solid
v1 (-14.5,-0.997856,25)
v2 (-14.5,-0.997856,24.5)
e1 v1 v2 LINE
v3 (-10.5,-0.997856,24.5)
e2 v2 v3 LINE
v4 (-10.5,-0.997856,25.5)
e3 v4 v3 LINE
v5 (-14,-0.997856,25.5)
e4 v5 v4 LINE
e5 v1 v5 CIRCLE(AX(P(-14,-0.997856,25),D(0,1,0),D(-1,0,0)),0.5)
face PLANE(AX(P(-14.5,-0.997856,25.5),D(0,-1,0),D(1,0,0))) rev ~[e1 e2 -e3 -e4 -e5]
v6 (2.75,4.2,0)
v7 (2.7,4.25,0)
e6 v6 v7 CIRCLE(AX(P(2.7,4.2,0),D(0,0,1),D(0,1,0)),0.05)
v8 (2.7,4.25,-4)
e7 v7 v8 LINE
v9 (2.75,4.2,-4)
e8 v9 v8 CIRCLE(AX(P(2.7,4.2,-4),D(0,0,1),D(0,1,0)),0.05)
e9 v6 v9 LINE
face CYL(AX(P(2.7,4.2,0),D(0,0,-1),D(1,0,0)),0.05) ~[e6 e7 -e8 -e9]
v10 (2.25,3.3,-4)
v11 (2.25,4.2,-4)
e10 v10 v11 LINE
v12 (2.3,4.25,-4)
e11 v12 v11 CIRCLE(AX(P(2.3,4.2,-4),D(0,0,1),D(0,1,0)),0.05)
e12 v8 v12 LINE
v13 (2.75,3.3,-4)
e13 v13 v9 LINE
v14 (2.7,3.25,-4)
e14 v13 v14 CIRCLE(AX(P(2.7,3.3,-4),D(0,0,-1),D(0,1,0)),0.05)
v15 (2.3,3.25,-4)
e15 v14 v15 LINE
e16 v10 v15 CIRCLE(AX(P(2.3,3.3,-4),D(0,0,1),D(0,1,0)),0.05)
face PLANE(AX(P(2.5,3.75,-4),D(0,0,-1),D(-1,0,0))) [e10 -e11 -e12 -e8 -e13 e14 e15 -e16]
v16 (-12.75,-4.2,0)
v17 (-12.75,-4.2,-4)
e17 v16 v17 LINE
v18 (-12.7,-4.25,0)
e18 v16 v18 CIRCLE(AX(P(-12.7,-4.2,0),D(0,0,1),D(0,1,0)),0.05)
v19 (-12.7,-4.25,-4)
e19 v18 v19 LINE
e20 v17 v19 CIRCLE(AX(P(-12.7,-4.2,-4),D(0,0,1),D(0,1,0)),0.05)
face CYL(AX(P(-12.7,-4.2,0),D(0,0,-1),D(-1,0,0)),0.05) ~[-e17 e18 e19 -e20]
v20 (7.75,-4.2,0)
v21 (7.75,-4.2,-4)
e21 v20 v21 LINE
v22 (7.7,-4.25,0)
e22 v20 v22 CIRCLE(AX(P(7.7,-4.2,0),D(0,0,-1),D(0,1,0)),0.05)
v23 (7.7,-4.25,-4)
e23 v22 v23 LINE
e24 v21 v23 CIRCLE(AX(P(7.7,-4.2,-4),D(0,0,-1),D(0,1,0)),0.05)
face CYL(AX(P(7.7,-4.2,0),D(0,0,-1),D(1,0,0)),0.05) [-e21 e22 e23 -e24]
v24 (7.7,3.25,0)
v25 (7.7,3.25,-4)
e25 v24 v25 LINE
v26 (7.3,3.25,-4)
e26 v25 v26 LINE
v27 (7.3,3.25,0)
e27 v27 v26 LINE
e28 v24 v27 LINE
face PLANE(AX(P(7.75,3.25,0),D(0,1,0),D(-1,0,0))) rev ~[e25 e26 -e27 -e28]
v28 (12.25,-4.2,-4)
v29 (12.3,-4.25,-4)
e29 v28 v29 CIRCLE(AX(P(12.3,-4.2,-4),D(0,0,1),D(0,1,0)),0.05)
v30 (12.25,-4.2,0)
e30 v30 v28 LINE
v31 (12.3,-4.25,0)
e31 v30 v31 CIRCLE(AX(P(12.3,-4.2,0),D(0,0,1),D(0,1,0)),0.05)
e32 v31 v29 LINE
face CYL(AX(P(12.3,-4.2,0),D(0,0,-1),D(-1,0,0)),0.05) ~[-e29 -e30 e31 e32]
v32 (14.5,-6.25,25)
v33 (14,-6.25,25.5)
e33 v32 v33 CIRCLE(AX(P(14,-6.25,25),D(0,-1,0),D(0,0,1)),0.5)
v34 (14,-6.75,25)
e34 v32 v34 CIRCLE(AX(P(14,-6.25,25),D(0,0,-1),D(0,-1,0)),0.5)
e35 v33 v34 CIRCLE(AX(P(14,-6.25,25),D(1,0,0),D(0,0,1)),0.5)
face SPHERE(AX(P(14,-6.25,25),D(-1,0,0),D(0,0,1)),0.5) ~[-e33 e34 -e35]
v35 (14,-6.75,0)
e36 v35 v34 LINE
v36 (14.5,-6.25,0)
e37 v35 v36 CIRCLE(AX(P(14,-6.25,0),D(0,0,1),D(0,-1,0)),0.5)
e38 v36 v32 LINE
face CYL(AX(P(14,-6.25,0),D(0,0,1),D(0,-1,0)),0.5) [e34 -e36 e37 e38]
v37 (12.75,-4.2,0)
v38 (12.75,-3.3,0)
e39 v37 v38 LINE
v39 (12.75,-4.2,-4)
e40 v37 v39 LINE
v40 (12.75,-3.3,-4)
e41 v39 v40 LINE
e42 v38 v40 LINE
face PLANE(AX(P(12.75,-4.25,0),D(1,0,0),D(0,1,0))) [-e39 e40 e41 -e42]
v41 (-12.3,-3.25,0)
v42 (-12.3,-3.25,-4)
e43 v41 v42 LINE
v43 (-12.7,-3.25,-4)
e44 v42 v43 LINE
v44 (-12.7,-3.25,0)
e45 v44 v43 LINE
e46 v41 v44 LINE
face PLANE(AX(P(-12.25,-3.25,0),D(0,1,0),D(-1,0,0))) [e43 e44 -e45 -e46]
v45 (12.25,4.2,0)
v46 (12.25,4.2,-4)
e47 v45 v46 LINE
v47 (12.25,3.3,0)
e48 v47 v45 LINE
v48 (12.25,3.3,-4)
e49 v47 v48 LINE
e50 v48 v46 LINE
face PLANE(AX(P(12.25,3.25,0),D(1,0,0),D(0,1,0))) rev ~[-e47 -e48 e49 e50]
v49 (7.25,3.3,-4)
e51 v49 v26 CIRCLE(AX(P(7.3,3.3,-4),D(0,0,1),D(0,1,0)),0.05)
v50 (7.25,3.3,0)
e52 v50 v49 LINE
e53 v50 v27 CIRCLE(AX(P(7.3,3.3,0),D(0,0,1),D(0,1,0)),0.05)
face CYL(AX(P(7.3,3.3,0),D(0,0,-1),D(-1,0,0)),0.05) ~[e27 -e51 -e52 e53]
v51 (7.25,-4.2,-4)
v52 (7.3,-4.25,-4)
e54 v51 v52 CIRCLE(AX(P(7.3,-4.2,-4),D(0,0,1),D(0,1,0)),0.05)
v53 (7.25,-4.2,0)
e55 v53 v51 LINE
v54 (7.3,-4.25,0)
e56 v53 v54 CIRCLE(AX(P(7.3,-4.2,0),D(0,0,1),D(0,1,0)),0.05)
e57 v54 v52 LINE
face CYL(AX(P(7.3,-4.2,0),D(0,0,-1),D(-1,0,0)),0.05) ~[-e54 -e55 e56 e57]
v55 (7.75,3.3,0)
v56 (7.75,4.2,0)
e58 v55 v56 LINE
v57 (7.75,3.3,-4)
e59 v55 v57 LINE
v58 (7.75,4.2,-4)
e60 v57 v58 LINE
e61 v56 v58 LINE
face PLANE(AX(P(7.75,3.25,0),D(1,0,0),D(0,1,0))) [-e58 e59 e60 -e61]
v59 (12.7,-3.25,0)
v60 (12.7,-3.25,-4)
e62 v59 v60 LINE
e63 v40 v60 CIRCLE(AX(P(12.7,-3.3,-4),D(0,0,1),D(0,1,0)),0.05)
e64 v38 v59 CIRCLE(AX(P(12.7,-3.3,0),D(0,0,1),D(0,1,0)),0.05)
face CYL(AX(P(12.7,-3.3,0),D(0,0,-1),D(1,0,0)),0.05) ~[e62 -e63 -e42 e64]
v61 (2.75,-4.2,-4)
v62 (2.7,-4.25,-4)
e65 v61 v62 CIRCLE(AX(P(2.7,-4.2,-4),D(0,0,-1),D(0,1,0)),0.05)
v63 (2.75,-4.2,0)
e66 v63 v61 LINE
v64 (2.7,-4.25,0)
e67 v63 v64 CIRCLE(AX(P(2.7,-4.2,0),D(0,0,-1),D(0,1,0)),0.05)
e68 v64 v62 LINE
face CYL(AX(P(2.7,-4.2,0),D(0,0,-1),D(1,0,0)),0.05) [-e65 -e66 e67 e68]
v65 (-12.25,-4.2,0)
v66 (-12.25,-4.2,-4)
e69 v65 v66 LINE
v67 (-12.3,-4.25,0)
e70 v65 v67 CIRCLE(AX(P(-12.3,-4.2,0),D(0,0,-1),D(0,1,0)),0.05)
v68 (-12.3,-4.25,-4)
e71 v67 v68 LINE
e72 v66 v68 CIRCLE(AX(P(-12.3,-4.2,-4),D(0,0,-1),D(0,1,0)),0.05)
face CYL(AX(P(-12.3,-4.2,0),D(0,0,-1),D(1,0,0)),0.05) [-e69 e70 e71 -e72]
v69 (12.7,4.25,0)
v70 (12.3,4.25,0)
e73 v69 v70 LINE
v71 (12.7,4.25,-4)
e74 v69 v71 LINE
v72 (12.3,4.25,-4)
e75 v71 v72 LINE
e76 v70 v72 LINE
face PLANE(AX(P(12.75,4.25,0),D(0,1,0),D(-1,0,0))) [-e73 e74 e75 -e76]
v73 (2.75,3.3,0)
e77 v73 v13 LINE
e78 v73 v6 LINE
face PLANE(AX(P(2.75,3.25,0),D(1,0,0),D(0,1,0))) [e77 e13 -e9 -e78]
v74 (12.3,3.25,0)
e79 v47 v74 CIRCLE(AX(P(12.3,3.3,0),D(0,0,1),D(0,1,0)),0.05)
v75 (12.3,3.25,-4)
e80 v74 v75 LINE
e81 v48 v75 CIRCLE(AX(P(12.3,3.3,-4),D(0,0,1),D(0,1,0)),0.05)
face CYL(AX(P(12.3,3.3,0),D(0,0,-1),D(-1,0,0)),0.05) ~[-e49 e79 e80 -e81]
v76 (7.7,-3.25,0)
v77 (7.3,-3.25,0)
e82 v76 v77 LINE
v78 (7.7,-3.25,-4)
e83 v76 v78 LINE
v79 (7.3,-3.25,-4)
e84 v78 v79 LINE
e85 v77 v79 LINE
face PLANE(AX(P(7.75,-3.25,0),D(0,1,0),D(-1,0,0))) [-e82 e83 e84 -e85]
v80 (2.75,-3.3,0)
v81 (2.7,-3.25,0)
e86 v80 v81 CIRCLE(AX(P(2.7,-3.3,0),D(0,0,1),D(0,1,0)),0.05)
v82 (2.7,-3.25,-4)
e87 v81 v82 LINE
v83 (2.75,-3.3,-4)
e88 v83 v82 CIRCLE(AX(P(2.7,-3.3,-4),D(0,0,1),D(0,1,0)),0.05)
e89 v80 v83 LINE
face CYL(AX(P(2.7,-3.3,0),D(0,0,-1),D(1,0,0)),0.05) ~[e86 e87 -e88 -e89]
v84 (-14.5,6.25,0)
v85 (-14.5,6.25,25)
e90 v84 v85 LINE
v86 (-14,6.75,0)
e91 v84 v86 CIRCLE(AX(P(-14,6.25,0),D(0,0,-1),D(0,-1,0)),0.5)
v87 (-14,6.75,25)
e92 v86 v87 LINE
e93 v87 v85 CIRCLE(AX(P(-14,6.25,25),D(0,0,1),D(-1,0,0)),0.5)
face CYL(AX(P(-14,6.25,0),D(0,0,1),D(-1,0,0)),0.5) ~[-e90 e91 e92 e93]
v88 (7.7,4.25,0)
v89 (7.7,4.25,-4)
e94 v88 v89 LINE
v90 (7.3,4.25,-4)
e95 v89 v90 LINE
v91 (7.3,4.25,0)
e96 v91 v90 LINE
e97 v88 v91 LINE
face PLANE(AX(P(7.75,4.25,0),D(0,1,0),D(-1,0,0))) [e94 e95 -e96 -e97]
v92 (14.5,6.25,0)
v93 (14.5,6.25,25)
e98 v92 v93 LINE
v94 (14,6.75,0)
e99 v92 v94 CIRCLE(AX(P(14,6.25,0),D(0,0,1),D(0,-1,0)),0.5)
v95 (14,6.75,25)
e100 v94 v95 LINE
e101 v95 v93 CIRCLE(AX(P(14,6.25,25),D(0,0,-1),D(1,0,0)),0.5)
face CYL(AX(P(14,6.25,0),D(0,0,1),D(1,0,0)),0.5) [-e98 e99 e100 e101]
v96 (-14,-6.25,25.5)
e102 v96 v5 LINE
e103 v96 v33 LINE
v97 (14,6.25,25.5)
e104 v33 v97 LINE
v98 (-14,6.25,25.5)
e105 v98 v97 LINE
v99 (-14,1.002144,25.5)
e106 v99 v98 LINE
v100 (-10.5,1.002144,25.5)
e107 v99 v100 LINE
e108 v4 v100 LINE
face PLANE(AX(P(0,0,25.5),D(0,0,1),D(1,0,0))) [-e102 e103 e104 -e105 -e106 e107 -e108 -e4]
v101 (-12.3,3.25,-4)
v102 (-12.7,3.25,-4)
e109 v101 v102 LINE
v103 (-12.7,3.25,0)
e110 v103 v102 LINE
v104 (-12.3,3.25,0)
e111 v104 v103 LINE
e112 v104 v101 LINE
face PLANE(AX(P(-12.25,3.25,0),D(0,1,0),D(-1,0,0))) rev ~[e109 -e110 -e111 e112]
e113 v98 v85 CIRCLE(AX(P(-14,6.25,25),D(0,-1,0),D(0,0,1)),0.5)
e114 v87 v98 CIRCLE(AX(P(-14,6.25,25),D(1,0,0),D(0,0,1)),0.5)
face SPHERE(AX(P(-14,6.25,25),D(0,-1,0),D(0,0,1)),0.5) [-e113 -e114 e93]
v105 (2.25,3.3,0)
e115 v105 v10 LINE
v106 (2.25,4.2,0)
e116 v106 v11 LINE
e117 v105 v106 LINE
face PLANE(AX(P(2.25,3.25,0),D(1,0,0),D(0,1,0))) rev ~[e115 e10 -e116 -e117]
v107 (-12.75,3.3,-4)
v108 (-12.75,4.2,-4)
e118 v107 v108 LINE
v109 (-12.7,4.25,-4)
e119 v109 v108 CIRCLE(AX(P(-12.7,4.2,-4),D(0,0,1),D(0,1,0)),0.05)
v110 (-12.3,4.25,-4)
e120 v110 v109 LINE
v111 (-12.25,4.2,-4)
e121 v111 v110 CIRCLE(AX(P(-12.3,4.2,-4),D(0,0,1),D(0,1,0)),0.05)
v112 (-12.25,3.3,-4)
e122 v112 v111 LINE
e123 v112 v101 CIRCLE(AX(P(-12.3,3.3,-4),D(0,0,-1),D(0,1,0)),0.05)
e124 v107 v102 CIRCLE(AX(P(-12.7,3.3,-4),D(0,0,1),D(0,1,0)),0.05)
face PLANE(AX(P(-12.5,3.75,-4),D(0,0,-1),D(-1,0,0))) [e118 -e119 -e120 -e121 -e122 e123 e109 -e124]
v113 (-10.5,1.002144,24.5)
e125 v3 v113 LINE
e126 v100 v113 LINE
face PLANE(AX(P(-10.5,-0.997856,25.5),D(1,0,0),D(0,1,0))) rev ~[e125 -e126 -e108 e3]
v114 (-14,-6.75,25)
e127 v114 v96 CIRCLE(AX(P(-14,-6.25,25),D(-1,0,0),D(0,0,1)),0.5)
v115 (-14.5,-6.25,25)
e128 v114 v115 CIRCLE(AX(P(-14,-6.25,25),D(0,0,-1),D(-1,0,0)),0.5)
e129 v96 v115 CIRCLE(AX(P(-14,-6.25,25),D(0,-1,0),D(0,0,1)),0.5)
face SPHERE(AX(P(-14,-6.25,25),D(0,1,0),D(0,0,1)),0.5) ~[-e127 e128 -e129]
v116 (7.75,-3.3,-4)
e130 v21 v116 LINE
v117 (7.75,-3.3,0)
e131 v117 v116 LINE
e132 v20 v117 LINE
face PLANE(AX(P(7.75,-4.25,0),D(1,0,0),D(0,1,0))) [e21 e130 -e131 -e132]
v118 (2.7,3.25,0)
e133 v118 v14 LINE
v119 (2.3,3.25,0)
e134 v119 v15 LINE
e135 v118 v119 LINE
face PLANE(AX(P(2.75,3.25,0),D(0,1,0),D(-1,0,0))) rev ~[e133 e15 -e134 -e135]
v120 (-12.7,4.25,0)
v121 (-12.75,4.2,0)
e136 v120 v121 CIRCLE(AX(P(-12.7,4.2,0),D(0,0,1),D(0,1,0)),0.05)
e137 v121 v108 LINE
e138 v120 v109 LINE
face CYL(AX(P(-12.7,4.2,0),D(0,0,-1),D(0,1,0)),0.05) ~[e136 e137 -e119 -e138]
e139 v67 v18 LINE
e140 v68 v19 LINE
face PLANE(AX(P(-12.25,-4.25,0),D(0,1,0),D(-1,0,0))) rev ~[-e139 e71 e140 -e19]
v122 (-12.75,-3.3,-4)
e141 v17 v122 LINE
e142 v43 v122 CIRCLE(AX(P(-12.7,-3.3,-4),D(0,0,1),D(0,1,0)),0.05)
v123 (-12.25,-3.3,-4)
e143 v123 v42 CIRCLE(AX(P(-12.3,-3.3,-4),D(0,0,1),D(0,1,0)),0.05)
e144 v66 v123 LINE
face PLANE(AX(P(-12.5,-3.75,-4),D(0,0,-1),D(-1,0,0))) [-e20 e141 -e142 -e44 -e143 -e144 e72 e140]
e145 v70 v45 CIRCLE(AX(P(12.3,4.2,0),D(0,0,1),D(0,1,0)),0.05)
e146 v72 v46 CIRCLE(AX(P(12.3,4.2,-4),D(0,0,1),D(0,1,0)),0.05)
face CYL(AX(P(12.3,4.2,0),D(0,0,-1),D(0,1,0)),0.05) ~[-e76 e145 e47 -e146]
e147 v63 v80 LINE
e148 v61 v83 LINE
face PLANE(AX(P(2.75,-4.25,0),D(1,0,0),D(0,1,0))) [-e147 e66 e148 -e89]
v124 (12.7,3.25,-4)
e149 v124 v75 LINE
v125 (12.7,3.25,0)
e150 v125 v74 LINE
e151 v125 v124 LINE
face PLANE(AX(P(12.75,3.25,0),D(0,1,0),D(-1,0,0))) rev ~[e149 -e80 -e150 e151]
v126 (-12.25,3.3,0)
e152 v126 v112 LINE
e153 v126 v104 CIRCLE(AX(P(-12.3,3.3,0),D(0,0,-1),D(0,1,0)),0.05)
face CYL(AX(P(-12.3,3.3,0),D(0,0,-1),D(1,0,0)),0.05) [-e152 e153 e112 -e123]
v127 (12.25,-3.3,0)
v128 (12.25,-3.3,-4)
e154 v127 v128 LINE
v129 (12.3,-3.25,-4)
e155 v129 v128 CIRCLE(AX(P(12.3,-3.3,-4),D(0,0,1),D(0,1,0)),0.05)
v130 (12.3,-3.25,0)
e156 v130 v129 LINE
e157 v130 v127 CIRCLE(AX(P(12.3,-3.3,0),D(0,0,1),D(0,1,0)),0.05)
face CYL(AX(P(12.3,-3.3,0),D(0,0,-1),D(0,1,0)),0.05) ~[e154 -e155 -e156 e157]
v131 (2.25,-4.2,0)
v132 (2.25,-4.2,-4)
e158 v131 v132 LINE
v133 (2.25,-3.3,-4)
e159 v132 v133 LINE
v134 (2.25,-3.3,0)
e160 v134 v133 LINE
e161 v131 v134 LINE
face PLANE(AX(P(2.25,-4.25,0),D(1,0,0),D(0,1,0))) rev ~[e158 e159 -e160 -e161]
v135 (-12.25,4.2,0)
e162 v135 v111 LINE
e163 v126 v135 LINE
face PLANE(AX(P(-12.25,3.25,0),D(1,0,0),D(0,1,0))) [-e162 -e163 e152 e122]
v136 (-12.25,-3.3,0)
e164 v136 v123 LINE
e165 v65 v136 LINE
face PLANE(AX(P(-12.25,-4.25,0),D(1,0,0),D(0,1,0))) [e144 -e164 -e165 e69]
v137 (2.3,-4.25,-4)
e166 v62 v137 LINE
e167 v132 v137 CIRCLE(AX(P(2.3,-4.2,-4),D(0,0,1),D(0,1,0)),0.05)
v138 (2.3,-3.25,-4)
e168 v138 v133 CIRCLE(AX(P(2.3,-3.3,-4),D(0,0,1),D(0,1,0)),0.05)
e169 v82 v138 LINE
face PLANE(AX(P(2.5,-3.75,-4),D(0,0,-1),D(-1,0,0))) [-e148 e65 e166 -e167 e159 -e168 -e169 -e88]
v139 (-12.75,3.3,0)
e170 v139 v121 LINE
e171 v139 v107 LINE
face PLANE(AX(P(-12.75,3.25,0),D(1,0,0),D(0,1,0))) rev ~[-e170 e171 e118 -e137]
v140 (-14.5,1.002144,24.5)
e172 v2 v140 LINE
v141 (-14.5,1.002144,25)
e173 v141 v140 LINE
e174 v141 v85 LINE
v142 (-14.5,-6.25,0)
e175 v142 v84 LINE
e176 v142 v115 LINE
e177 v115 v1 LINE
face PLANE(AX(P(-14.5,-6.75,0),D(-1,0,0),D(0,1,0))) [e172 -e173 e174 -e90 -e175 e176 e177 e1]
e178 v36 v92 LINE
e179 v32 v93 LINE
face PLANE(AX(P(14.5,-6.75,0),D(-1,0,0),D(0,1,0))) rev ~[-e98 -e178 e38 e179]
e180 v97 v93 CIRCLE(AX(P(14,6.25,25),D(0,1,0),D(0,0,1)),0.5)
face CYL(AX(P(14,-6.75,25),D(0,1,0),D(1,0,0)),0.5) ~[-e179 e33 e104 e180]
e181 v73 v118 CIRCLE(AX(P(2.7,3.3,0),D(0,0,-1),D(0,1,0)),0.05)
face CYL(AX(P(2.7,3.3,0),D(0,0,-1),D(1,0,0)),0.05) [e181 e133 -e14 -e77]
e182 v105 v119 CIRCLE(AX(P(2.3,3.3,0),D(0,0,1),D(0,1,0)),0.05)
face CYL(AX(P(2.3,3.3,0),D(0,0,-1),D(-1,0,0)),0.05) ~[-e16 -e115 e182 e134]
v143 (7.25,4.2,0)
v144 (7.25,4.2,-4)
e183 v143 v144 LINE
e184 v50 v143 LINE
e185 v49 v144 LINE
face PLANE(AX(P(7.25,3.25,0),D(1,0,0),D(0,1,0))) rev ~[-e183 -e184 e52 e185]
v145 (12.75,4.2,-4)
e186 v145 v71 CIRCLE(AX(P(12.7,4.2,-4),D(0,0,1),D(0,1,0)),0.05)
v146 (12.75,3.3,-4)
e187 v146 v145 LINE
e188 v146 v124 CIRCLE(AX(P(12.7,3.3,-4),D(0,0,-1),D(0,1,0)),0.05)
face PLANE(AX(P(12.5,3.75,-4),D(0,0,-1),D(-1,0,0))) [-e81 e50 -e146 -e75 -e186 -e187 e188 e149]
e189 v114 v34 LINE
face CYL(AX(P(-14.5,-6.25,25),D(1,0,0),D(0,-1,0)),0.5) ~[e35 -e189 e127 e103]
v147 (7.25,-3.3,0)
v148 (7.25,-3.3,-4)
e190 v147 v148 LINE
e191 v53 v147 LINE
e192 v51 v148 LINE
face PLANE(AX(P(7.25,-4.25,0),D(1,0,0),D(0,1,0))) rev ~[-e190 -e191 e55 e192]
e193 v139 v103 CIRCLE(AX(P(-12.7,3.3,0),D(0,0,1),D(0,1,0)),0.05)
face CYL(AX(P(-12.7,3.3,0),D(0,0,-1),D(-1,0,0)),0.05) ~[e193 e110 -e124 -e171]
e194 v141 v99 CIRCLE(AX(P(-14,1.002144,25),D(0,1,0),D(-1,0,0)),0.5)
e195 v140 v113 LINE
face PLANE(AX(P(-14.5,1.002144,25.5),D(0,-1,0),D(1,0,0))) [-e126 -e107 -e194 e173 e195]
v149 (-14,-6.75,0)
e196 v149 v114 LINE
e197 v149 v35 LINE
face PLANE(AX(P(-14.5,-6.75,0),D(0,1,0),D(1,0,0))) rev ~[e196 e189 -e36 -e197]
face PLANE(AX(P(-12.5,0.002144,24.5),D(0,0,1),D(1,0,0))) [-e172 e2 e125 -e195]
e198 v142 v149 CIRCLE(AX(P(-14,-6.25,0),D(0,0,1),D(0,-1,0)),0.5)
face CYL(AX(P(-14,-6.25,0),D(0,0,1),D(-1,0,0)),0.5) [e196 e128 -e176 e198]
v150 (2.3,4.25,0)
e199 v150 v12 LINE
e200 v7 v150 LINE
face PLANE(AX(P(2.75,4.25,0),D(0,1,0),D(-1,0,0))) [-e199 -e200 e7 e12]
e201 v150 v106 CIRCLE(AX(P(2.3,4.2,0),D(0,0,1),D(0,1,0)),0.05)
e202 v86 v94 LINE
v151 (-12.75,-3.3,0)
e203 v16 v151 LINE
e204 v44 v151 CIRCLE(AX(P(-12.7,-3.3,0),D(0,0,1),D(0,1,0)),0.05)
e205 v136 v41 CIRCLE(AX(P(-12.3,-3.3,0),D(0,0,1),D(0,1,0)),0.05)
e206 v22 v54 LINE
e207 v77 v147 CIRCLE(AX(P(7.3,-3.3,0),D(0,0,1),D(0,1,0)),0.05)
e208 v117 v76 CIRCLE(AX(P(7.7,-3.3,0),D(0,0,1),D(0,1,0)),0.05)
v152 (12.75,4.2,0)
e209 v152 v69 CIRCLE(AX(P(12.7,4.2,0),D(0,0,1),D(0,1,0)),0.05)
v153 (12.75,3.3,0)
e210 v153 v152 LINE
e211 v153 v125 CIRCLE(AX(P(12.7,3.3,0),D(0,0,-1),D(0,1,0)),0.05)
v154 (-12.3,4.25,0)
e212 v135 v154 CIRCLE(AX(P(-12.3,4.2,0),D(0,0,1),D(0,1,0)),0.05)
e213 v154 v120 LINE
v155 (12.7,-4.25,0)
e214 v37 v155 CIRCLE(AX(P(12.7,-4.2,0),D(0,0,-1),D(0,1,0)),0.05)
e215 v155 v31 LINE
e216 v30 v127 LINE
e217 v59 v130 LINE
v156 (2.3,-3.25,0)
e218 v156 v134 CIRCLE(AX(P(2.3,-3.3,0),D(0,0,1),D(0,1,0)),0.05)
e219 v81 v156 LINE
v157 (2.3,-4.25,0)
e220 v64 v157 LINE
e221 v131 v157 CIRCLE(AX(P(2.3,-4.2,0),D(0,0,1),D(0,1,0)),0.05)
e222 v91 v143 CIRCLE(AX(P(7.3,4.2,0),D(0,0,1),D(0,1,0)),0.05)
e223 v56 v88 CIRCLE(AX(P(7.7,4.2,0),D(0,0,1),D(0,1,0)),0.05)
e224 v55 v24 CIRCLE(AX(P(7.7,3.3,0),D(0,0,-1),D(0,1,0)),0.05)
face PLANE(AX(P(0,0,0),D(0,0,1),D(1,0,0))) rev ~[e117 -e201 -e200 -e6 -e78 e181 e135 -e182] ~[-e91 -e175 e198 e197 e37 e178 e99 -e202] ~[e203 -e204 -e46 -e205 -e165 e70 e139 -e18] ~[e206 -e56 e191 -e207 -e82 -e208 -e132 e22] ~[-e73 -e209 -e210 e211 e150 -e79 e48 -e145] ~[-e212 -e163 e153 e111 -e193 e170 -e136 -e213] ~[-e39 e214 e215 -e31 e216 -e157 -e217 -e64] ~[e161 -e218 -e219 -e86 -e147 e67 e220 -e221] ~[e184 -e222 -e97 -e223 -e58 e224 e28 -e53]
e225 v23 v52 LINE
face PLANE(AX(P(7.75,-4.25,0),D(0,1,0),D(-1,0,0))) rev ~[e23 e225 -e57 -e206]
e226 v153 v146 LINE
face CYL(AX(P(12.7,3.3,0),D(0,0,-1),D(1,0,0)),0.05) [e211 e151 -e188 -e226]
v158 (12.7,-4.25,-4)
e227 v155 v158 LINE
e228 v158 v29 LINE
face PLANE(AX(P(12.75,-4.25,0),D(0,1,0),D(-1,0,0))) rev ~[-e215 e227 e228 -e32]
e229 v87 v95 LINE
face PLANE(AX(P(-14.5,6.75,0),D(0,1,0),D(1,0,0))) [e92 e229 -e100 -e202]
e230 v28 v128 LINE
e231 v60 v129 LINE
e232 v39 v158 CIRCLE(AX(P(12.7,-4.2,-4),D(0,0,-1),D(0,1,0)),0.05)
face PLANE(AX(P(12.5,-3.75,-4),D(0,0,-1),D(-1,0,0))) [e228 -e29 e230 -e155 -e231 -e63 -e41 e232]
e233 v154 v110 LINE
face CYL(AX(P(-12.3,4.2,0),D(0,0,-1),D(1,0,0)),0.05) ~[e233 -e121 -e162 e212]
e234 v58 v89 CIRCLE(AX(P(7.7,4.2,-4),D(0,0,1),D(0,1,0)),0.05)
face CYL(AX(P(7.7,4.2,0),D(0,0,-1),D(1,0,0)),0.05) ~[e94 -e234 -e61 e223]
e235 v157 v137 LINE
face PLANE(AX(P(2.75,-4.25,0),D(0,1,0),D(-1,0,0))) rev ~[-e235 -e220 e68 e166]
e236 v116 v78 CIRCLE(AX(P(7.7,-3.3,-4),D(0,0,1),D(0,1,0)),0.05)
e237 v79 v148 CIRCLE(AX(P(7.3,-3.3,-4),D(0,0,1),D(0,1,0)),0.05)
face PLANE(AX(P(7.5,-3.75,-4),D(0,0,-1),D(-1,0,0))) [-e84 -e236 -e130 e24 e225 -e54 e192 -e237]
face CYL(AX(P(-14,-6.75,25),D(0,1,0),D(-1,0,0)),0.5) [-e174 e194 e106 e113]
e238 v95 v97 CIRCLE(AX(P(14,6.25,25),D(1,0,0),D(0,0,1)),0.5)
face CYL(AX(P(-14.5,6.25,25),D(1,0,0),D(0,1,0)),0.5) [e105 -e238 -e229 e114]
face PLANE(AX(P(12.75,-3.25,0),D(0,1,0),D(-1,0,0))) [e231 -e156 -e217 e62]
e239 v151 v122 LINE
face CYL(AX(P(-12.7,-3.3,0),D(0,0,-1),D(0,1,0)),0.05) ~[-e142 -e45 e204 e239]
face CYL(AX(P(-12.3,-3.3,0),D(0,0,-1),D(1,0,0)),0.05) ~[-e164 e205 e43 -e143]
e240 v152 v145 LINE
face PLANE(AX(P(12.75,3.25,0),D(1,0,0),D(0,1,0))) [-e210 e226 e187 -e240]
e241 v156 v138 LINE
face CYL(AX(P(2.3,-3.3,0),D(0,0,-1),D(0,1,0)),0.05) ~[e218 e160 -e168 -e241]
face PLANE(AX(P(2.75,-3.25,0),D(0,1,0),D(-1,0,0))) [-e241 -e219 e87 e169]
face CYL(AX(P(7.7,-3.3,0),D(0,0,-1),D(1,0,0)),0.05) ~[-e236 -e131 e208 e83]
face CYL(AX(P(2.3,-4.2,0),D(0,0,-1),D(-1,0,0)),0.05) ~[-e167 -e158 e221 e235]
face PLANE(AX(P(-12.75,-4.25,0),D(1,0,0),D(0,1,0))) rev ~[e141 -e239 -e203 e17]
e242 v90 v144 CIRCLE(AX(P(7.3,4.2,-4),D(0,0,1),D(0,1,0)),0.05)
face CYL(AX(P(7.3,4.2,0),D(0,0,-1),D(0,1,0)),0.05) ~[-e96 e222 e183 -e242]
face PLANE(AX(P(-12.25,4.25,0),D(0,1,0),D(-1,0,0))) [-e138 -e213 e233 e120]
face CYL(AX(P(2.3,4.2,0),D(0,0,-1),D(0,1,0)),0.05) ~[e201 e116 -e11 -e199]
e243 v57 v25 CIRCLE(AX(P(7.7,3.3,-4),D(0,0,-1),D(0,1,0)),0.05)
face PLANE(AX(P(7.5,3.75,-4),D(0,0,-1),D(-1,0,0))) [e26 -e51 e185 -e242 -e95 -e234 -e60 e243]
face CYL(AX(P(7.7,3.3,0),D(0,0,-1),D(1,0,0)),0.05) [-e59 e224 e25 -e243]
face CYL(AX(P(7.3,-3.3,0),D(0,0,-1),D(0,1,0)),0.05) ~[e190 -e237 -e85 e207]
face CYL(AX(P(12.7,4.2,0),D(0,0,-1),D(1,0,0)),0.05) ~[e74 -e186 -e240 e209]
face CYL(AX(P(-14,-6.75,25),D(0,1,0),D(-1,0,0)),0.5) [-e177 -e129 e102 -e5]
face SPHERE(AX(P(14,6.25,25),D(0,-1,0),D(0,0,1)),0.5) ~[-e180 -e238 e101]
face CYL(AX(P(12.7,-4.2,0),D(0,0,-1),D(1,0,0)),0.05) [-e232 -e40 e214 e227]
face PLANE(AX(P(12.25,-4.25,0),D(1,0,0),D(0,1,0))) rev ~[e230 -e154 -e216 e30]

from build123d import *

# Parameters (mm, degrees)
SKETCH_1_W          = 29
SKETCH_1_H          = 13.5
EXTRUDE_1_DEPTH     = 25.5
FILLET_1_R          = 0.5
SKETCH_2_W          = 4
SKETCH_2_H          = 2
CUT_EXTRUDE_1_DEPTH = 1
SKETCH_3_W          = 0.5
SKETCH_3_H          = 1
EXTRUDE_2_DEPTH     = 4
FILLET_2_R          = 0.05


with BuildPart() as part:
    # Эскиз1 → Бобышка-Вытянуть1 (new body)
    with BuildSketch(Plane.XY):
        Rectangle(SKETCH_1_W, SKETCH_1_H)
    extrude(amount=EXTRUDE_1_DEPTH)

    # Скругление1
    fillet_1_edges = [part.edges().sort_by_distance(p)[0] for p in [
        (-14.5, 0, 25.5),
        (0, -6.75, 25.5),
        (14.5, 0, 25.5),
        (0, 6.75, 25.5),
        (14.5, -6.75, 12.75),
        (-14.5, -6.75, 12.75),
        (-14.5, 6.75, 12.75),
        (14.5, 6.75, 12.75),
    ]]
    fillet(fillet_1_edges, radius=FILLET_1_R)

    # Эскиз2 → Вырез-Вытянуть1 (cut)
    with BuildSketch(Plane.XY.offset(25.5)):
        with Locations((-12.5, 0.002144421)):
            Rectangle(SKETCH_2_W, SKETCH_2_H)
    extrude(amount=-CUT_EXTRUDE_1_DEPTH, mode=Mode.SUBTRACT)

    # Эскиз3 → Бобышка-Вытянуть2 (add)
    with BuildSketch(Plane(origin=(0, 0, 0), x_dir=(-1, 0, 0), z_dir=(0, 0, -1))):
        with Locations((12.5, -3.75)):
            Rectangle(SKETCH_3_W, SKETCH_3_H)
        with Locations((-2.5, -3.75)):
            Rectangle(SKETCH_3_W, SKETCH_3_H)
        with Locations((-7.5, -3.75)):
            Rectangle(SKETCH_3_W, SKETCH_3_H)
        with Locations((-12.5, -3.75)):
            Rectangle(SKETCH_3_W, SKETCH_3_H)
        with Locations((-12.5, 3.75)):
            Rectangle(SKETCH_3_W, SKETCH_3_H)
        with Locations((-7.5, 3.75)):
            Rectangle(SKETCH_3_W, SKETCH_3_H)
        with Locations((-2.5, 3.75)):
            Rectangle(SKETCH_3_W, SKETCH_3_H)
        with Locations((12.5, 3.75)):
            Rectangle(SKETCH_3_W, SKETCH_3_H)
    extrude(amount=EXTRUDE_2_DEPTH)

    # Скругление2
    fillet_2_edges = [part.edges().sort_by_distance(p)[0] for p in [
        (12.25, 3.25, -2),
        (12.25, 4.25, -2),
        (12.75, 4.25, -2),
        (12.75, 3.25, -2),
        (7.25, 3.25, -2),
        (7.25, 4.25, -2),
        (7.75, 4.25, -2),
        (7.75, 3.25, -2),
        (2.25, 3.25, -2),
        (2.25, 4.25, -2),
        (2.75, 4.25, -2),
        (2.75, 3.25, -2),
        (-12.75, 3.25, -2),
        (-12.75, 4.25, -2),
        (-12.25, 4.25, -2),
        (-12.25, 3.25, -2),
        (-12.25, -3.25, -2),
        (-12.25, -4.25, -2),
        (-12.75, -4.25, -2),
        (-12.75, -3.25, -2),
        (2.75, -3.25, -2),
        (2.75, -4.25, -2),
        (2.25, -4.25, -2),
        (2.25, -3.25, -2),
        (7.75, -3.25, -2),
        (7.75, -4.25, -2),
        (7.25, -4.25, -2),
        (7.25, -3.25, -2),
        (12.75, -3.25, -2),
        (12.75, -4.25, -2),
        (12.25, -4.25, -2),
        (12.25, -3.25, -2),
    ]]
    fillet(fillet_2_edges, radius=FILLET_2_R)


solid = part.part
